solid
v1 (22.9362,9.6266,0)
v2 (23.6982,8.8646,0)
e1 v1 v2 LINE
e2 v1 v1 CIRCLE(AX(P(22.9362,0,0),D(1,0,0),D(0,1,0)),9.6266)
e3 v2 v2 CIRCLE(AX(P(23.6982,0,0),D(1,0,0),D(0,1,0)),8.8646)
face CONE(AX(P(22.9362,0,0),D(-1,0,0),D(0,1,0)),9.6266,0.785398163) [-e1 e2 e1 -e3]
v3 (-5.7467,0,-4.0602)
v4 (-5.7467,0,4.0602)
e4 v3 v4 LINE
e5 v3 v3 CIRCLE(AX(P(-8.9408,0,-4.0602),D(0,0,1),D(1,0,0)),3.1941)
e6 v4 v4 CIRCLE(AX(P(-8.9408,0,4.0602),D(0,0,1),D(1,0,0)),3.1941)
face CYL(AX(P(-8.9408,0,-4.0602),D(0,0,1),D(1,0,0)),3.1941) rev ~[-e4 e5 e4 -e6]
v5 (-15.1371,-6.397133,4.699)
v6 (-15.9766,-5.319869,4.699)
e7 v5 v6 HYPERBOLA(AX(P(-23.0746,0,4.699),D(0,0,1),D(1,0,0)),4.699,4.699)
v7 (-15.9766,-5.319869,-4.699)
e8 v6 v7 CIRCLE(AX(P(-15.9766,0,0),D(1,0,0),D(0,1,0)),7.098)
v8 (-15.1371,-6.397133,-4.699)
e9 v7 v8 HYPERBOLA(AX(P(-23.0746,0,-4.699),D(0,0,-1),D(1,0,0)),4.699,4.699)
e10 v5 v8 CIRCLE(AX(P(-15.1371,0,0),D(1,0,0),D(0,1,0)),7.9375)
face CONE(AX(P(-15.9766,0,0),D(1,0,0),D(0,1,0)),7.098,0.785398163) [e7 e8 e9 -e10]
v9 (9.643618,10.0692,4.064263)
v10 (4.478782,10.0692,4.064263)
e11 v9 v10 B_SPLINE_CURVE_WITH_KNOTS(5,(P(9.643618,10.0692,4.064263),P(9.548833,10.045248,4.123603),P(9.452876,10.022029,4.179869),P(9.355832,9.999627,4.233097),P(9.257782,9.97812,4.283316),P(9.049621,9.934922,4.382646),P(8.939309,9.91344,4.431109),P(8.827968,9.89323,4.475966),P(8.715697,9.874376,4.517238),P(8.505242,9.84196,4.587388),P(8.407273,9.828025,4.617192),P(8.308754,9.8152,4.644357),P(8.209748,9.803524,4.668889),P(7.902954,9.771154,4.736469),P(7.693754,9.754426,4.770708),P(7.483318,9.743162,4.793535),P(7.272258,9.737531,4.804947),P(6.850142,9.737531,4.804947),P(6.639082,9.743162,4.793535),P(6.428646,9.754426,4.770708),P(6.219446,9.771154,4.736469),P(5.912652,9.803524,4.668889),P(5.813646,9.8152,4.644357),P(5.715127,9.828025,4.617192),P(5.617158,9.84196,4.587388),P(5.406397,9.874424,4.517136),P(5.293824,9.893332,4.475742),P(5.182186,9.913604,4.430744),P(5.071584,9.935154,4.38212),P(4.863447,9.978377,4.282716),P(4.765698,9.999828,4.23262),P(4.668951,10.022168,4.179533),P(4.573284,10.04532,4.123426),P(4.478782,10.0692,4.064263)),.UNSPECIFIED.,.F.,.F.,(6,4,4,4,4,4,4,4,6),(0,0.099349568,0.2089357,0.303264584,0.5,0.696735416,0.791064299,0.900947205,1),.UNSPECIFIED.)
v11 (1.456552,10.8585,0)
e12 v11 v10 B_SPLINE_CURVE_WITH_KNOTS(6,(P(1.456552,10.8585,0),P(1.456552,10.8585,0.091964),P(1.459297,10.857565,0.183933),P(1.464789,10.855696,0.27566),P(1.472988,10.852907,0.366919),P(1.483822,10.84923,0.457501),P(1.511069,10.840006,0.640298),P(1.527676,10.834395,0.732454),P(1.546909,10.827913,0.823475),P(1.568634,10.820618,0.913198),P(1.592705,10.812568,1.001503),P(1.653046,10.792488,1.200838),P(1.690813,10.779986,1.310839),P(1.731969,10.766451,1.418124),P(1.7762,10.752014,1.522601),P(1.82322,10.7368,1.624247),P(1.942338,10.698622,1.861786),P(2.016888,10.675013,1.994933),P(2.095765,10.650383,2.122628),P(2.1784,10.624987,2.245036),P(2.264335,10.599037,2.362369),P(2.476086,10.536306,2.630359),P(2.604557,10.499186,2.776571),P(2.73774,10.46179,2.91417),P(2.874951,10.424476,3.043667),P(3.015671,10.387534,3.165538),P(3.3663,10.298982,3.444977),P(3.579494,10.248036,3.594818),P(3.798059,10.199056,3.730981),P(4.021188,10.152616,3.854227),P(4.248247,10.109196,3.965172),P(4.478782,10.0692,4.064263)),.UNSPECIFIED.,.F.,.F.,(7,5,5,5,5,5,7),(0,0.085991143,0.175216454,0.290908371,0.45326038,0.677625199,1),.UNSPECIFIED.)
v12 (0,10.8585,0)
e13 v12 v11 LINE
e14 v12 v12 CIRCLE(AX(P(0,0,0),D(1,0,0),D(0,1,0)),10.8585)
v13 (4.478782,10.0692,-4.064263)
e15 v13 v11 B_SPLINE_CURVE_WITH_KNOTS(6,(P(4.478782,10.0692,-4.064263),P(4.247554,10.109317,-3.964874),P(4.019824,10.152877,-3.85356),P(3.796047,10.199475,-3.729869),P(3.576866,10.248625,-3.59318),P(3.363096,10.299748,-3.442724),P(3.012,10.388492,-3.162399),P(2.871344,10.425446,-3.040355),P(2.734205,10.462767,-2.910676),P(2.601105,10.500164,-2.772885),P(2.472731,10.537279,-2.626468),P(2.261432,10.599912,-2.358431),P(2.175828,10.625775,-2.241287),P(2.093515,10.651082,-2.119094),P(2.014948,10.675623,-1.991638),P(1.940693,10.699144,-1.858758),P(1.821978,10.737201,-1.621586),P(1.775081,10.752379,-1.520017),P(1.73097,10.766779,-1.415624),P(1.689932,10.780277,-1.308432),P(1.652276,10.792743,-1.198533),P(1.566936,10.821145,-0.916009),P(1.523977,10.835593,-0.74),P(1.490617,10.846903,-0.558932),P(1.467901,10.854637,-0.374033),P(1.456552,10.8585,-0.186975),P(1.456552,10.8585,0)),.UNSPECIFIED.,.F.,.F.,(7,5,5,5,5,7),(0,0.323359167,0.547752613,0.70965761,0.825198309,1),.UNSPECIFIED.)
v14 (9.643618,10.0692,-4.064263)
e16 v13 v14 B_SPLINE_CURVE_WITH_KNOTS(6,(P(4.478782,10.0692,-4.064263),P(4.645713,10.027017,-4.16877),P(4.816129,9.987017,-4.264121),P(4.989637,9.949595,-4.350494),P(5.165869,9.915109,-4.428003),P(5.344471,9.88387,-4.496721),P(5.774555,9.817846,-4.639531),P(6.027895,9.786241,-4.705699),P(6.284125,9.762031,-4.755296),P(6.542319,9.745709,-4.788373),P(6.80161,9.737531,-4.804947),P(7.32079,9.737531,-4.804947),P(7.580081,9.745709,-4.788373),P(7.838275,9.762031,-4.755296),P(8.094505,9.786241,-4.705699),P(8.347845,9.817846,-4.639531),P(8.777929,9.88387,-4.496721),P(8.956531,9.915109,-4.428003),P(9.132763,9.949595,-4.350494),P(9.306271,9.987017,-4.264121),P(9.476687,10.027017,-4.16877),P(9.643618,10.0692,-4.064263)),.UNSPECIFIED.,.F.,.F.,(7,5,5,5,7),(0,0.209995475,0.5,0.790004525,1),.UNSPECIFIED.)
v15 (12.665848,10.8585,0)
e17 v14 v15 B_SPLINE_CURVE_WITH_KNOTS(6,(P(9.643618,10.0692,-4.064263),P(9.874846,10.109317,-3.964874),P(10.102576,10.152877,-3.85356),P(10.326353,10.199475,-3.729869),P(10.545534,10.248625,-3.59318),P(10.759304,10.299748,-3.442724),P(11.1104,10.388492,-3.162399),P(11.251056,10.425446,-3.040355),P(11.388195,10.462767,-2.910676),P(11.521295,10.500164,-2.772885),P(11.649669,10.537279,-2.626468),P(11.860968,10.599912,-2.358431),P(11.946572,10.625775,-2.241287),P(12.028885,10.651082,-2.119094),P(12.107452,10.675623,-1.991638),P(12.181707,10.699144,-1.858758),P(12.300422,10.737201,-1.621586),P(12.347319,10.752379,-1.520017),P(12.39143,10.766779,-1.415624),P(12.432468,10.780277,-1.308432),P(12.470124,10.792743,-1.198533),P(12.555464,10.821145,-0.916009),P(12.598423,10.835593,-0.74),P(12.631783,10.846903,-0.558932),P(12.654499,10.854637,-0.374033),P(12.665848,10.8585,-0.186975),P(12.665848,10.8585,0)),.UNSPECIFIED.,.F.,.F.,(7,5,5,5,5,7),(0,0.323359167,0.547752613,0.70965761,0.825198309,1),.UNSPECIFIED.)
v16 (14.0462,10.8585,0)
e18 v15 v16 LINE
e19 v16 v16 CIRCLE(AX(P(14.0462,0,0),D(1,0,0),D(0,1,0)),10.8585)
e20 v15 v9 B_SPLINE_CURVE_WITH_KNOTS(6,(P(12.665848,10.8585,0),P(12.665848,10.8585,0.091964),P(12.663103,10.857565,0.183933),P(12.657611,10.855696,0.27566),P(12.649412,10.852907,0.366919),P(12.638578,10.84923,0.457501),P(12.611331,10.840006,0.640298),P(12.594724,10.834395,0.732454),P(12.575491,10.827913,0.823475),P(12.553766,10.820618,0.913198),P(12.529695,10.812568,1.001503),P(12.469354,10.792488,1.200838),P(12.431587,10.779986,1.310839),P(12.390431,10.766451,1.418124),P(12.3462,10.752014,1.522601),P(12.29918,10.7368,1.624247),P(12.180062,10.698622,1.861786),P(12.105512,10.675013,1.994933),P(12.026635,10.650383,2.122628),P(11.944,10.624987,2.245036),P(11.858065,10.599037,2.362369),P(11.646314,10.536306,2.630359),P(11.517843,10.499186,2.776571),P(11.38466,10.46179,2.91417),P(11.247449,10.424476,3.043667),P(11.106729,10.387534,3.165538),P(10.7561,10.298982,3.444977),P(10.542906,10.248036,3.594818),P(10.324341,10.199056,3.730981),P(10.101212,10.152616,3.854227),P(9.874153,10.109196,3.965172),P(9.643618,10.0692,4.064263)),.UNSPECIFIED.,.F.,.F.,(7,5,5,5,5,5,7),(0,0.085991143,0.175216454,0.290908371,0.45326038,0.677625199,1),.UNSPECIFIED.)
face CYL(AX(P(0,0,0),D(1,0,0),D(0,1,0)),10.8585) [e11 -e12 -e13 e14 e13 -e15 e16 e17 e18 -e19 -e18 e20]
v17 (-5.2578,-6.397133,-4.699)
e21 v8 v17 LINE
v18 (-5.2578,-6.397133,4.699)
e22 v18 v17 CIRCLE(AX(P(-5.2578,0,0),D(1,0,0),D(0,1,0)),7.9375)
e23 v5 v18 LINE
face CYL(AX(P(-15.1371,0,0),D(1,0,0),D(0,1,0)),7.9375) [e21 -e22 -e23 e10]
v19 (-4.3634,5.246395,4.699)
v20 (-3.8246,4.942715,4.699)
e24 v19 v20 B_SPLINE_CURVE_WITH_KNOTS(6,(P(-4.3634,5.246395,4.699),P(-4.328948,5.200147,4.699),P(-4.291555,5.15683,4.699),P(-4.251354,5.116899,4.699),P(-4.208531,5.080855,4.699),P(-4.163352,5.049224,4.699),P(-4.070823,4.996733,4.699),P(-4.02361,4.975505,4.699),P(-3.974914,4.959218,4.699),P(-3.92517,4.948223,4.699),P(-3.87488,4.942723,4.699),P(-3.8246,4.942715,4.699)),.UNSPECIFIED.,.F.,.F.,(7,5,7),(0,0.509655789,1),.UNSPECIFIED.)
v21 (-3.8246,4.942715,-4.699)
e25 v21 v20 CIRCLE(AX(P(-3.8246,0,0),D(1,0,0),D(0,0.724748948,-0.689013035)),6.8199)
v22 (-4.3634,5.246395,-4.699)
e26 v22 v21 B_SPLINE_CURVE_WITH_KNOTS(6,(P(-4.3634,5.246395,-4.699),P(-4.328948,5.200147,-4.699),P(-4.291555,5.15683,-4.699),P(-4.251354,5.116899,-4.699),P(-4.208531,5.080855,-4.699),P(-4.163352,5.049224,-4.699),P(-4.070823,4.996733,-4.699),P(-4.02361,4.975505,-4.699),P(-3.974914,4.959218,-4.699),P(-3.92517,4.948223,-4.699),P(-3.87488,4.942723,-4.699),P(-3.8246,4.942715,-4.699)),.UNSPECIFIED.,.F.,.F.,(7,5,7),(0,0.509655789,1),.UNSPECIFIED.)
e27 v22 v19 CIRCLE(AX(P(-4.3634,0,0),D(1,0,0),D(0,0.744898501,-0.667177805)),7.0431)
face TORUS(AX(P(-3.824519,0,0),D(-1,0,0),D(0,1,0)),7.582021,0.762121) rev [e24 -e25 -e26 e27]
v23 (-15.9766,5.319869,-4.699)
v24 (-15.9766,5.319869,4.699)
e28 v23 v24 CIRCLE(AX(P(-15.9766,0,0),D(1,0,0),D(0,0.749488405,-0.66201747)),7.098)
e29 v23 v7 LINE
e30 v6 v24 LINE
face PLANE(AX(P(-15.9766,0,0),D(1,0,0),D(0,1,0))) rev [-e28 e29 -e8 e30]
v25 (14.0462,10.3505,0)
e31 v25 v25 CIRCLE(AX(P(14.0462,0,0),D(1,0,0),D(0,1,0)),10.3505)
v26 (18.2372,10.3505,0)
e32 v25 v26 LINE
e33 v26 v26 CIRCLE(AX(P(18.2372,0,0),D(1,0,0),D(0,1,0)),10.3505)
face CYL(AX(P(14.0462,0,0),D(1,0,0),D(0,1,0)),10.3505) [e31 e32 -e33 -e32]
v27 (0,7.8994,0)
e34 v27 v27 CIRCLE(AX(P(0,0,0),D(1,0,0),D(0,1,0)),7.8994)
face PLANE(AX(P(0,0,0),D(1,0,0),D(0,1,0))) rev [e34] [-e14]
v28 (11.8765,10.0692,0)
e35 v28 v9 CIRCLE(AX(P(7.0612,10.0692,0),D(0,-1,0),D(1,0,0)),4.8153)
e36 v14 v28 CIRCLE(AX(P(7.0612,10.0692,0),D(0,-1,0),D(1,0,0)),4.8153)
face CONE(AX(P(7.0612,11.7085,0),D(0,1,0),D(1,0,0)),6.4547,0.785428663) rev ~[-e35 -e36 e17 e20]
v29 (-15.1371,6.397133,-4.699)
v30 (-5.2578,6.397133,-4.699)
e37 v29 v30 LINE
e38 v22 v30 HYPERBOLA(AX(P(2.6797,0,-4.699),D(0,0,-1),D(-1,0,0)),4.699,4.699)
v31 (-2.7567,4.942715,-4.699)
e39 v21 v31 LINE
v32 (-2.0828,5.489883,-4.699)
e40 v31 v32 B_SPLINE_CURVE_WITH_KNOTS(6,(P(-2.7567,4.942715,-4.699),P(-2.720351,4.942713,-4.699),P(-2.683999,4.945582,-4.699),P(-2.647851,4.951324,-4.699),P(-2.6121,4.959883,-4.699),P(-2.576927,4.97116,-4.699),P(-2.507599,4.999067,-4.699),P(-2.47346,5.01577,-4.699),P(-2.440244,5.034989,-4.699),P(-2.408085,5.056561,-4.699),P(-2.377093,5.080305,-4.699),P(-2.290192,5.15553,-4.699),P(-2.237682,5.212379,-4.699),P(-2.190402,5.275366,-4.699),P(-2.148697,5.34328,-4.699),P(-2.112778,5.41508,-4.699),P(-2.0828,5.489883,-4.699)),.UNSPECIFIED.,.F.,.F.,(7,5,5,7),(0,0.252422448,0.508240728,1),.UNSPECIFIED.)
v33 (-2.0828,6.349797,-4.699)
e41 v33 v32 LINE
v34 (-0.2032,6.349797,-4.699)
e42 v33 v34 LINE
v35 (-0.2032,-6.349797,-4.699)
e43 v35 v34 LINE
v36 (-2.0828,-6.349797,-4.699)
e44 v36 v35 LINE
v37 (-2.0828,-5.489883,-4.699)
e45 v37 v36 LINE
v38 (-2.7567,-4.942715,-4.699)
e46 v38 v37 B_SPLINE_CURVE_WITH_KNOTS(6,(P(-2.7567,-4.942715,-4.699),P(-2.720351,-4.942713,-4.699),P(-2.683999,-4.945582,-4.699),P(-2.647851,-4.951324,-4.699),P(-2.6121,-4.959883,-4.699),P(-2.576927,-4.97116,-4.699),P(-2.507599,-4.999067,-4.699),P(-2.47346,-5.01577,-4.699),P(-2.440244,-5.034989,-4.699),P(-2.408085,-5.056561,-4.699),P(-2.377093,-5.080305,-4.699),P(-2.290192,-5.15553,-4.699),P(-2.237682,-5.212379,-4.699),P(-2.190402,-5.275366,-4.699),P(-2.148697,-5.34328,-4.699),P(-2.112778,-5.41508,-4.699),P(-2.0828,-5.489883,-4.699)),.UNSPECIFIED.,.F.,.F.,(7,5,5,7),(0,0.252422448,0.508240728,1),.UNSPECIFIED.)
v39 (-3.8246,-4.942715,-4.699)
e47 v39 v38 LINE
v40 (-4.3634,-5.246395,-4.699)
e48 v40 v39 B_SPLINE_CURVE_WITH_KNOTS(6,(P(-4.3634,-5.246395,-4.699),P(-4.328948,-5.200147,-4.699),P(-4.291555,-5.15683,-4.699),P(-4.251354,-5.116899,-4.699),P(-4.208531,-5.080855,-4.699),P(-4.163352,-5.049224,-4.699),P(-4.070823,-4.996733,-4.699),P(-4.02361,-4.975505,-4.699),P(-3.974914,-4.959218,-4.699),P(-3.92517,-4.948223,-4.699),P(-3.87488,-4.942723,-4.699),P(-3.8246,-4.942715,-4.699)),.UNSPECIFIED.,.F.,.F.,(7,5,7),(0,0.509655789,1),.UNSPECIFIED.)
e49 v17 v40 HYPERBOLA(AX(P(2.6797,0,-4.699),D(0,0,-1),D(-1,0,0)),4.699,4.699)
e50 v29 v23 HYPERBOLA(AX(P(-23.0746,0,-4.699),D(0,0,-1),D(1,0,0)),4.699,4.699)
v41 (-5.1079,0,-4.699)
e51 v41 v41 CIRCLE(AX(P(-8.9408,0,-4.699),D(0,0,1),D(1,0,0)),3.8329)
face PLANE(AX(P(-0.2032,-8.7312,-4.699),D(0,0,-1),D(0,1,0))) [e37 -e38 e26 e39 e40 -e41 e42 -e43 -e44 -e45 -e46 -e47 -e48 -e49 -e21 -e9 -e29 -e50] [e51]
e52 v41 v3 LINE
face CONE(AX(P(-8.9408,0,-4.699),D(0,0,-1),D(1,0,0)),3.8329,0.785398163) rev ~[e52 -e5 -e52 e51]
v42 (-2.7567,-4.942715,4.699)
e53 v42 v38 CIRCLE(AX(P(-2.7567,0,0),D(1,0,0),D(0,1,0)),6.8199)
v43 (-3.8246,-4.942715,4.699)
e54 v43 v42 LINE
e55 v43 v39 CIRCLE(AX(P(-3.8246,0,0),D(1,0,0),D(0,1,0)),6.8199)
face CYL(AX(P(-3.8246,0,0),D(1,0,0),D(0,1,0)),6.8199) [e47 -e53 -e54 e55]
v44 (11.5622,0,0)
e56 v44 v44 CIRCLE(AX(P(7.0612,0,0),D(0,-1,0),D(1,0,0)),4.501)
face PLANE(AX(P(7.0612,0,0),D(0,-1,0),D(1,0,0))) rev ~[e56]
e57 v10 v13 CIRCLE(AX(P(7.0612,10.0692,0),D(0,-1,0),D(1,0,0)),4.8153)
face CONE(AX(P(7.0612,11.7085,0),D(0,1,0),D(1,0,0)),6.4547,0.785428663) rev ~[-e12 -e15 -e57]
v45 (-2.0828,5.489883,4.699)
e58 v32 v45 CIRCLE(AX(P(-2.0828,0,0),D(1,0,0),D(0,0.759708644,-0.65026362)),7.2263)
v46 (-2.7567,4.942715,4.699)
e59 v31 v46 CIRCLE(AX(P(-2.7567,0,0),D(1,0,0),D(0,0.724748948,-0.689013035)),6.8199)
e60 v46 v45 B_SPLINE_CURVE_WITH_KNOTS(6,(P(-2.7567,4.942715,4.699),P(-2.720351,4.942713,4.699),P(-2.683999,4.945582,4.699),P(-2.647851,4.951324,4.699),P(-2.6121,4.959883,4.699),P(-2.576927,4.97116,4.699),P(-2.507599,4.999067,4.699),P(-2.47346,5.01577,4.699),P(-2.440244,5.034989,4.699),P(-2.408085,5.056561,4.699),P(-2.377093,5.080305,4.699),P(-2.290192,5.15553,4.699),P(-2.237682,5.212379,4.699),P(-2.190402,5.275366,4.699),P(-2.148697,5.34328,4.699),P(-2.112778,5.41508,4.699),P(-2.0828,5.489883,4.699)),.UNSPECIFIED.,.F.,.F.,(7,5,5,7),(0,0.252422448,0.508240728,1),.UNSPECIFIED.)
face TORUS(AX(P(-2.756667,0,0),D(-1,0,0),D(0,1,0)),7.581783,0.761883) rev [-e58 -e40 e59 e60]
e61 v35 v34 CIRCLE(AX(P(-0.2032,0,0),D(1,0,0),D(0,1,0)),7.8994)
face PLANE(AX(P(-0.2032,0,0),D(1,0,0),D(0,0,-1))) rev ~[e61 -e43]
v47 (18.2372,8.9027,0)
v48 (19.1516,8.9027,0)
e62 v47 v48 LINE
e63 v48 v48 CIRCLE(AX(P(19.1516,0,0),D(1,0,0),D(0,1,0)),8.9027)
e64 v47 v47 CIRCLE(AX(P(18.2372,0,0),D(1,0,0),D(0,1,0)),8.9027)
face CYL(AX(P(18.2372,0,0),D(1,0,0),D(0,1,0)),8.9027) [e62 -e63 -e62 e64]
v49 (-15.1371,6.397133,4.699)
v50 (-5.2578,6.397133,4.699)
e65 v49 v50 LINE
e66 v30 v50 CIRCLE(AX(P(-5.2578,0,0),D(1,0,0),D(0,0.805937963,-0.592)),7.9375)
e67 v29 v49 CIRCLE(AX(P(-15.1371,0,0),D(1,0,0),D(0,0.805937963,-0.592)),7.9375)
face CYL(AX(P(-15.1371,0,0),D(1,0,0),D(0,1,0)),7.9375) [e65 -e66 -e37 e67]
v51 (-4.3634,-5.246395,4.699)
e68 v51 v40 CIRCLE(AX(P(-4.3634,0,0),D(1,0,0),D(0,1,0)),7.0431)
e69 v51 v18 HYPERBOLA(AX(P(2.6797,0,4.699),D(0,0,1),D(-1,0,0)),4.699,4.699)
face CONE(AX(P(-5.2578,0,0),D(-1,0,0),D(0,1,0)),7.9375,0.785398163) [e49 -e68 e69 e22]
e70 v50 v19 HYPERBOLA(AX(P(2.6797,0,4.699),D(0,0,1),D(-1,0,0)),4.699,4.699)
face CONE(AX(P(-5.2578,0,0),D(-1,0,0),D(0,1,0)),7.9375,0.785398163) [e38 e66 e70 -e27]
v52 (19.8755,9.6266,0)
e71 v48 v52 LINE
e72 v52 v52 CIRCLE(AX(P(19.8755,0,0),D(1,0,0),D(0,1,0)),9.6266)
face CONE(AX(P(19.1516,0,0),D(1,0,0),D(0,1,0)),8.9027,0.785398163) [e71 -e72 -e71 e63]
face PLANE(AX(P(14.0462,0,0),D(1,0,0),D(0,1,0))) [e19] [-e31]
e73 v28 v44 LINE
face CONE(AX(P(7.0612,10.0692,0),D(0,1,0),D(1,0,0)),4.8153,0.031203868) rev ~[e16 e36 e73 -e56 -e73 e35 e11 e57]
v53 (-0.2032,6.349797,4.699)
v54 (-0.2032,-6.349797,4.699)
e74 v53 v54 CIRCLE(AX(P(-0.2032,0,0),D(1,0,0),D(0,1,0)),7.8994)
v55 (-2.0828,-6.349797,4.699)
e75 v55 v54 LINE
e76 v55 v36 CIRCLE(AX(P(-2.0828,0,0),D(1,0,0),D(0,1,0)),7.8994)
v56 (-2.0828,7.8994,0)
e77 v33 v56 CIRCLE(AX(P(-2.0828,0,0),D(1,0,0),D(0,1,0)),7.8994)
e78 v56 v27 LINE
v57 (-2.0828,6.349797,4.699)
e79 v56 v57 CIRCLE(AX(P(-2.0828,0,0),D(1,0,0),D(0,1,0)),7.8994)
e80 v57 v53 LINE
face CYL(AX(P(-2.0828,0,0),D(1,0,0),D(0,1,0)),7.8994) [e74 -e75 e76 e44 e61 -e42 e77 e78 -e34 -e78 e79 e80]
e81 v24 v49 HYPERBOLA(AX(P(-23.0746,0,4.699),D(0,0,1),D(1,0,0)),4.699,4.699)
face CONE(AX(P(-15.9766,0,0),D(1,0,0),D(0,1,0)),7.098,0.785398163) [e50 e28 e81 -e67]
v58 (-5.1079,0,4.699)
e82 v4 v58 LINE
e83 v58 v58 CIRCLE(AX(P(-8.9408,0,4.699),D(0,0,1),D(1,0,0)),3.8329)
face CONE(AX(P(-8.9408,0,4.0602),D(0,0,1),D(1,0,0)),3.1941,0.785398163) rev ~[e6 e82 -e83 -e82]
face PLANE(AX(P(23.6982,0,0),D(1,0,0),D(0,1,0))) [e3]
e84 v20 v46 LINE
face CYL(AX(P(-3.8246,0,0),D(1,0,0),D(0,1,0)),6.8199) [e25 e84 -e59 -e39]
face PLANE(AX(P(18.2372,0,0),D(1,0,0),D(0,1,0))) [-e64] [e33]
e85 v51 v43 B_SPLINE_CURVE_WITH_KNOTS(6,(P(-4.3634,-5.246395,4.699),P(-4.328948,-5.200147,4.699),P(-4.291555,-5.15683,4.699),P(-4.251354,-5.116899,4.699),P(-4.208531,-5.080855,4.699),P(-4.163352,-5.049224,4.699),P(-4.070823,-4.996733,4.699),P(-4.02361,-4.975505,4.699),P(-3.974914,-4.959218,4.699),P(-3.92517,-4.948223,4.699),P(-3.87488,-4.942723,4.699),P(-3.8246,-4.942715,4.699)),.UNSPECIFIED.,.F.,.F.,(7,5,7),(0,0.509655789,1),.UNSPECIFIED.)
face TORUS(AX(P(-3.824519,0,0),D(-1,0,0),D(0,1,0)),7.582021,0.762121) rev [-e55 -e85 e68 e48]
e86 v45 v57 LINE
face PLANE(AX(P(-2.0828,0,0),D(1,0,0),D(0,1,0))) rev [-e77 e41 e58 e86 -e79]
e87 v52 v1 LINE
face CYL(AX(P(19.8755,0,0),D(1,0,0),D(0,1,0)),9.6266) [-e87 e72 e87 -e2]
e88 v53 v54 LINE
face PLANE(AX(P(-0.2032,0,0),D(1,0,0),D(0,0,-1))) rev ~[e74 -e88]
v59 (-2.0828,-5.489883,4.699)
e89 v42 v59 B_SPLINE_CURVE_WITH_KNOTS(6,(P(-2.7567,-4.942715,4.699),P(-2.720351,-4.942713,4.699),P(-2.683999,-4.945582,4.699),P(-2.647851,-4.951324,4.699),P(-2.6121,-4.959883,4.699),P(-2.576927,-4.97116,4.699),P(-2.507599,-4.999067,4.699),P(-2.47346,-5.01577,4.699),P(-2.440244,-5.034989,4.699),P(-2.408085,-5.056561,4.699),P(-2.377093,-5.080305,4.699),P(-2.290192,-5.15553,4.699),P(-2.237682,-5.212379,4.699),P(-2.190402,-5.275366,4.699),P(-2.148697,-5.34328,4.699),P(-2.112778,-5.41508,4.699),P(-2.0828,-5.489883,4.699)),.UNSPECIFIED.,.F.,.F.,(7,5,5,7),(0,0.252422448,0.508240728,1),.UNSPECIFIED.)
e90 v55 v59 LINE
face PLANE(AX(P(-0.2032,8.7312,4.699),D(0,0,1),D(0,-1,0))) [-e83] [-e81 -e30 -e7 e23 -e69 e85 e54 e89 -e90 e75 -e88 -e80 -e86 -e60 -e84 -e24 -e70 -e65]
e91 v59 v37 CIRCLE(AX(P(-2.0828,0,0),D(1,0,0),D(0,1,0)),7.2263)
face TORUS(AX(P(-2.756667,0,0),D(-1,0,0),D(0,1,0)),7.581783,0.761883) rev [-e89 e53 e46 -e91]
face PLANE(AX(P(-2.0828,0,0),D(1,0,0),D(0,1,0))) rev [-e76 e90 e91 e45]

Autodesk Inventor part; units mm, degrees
sketch "Sketch_1" plane through (0, 0, 0) normal (0, 0, 1) x (1, 0, 0)
  line L0 (14.0462, 0) -> (0, 0)
  line L1 (0, 0) -> (0, 10.8585)
  line L2 (0, 10.8585) -> (14.0462, 10.8585)
  line L3 (14.0462, 10.8585) -> (14.0462, 0)
  line L4 (14.0462, 0) -> (0, 0)
revolve "Revolution1" add sketch "Sketch_1" angle 360 about axis through (14.0462, 0, 0) along (1, 0, 0)
sketch "Sketch_2" plane through (0, 0, 0) normal (0, 0, 1) x (1, 0, 0)
  line L0 (0, 0) -> (-15.9766, 0)
  line L1 (-15.9766, 0) -> (-15.9766, 7.098)
  line L2 (-15.9766, 7.098) -> (-15.1371, 7.9375)
  line L3 (-15.1371, 7.9375) -> (0, 7.9375)
  line L4 (0, 7.9375) -> (0, 0)
  line L5 (0, 0) -> (-15.9766, 0)
revolve "Revolution2" add sketch "Sketch_2" angle 360 about axis through (0, 0, 0) along (1, 0, 0)
thread "Thread1" size "5/8-18 UNF" class "2A" standard "ANSI Unified Screw Threads" length 9.8793
sketch "Sketch_6" plane through (0, 0, 0) normal (0, 0, 1) x (1, 0, 0)
  line L0 (23.6982, 0) -> (14.0462, 0)
  line L1 (14.0462, 0) -> (14.0462, 10.3505)
  line L2 (14.0462, 10.3505) -> (18.2372, 10.3505)
  line L3 (18.2372, 10.3505) -> (18.2372, 8.9027)
  line L4 (18.2372, 8.9027) -> (19.1516, 8.9027)
  line L5 (19.1516, 8.9027) -> (19.8755, 9.6266)
  line L6 (19.8755, 9.6266) -> (22.9362, 9.6266)
  line L7 (22.9362, 9.6266) -> (23.6982, 8.8646)
  line L8 (23.6982, 8.8646) -> (23.6982, 0)
  line L9 (23.6982, 0) -> (14.0462, 0)
revolve "Revolution3" add sketch "Sketch_6" angle 360 about axis through (23.6982, 0, 0) along (1, 0, 0)
sketch "Sketch_8" plane through (7.0612, 0, 0) normal (0, 0, 1) x (0, -1, 0)
  line L0 (0, 0) -> (-11.7085, 0)
  line L1 (-11.7085, 0) -> (-11.7085, 6.4547)
  line L2 (-11.7085, 6.4547) -> (-10.0692, 4.8153)
  line L3 (-10.0692, 4.8153) -> (0, 4.501)
  line L4 (0, 4.501) -> (0, 0)
  line L5 (0, 0) -> (-11.7085, 0)
revolve "Revolution4" cut sketch "Sketch_8" angle 360 about axis through (7.0612, 0, 0) along (0, -1, 0)
sketch "Sketch_29" plane through (0, 0, 0) normal (0, 0, 1) x (1, 0, 0)
  line L0 (0, 0) -> (-5.2578, 0)
  line L1 (-5.2578, 9.8994) -> (-5.2578, 7.9375)
  line L2 (-5.2578, 7.9375) -> (-4.3634, 7.0431)
  arc A0 (-4.3634, 7.0431) -> (-3.8246, 6.8199) centre (-3.8246, 7.5819) ccw
  line L3 (-3.8246, 6.8199) -> (-2.7567, 6.8199)
  arc A1 (-2.7567, 6.8199) -> (-2.0828, 7.2263) centre (-2.7567, 7.5819) ccw
  line L4 (-2.0828, 7.2263) -> (-2.0828, 7.8994)
  line L5 (-2.0828, 7.8994) -> (0, 7.8994)
  line L6 (0, 7.8994) -> (0, 9.8994)
  line L7 (0, 9.8994) -> (-5.2578, 9.8994)
revolve "Revolution5" cut sketch "Sketch_29" angle 360 about axis through (0, 0, 0) along (1, 0, 0)
sketch "Sketch_38" plane through (-0.2032, 0, 0) normal (1, 0, 0) x (0, 0, -1)
  line L0 (-10.8585, -10.8585) -> (10.8585, -10.8585)
  line L1 (10.8585, -10.8585) -> (10.8585, 10.8585)
  line L2 (10.8585, 10.8585) -> (-10.8585, 10.8585)
  line L3 (-10.8585, 10.8585) -> (-10.8585, -10.8585)
  line L4 (-4.699, -8.7312) -> (4.699, -8.7312)
  line L5 (4.699, -8.7312) -> (4.699, 8.7312)
  line L6 (4.699, 8.7312) -> (-4.699, 8.7312)
  line L7 (-4.699, 8.7312) -> (-4.699, -8.7312)
extrude "Extrusion1" cut sketch "Sketch_38" against normal blind 15.9766
sketch "Sketch_36" plane through (0, 0, 0) normal (0, 1, 0) x (-1, 0, 0)
  line L0 (8.9408, 4.699) -> (8.9408, -4.699)
  line L1 (8.9408, -4.699) -> (5.1079, -4.699)
  line L2 (5.1079, -4.699) -> (5.7467, -4.0602)
  line L3 (5.7467, -4.0602) -> (5.7467, 4.0602)
  line L4 (5.7467, 4.0602) -> (5.1079, 4.699)
  line L5 (5.1079, 4.699) -> (8.9408, 4.699)
  line L6 (8.9408, 4.699) -> (8.9408, -4.699)
revolve "Revolution6" cut sketch "Sketch_36" angle 360 about axis through (-8.9408, 0, 4.699) along (0, 0, 1)
ref_plane "b1_XY" through (0, 7.8994, 0) normal (1, 0, 0) x (0, 0, -1)
ref_plane "b1_YZ" through (0, 7.8994, 0) normal (0, 0, -1) x (0, 1, 0)
ref_plane "b1_ZX" through (0, 7.8994, 0) normal (0, 1, 0) x (1, 0, 0)
ref_plane "b2_XY" through (0, -7.8994, 0) normal (1, 0, 0) x (0, 0, -1)
ref_plane "b2_YZ" through (0, -7.8994, 0) normal (0, 0, -1) x (0, 1, 0)
ref_plane "b2_ZX" through (0, -7.8994, 0) normal (0, 1, 0) x (1, 0, 0)
ref_plane "cl1_XY" through (0, 0, 0) normal (0, 0, 1) x (1, 0, 0)
ref_plane "cl1_YZ" through (0, 0, 0) normal (1, 0, 0) x (0, 1, 0)
ref_plane "cl1_ZX" through (0, 0, 0) normal (0, 1, 0) x (0, 0, 1)
ref_plane "cl2_XY" through (-2.0828, 0, 0) normal (0, 0, 1) x (1, 0, 0)
ref_plane "cl2_YZ" through (-2.0828, 0, 0) normal (1, 0, 0) x (0, 1, 0)
ref_plane "cl2_ZX" through (-2.0828, 0, 0) normal (0, 1, 0) x (0, 0, 1)
ref_plane "ecut1_XY" through (-0.2032, 0, 4.699) normal (1, 0, 0) x (0, 0, -1)
ref_plane "ecut1_YZ" through (-0.2032, 0, 4.699) normal (0, 0, -1) x (0, 1, 0)
ref_plane "ecut1_ZX" through (-0.2032, 0, 4.699) normal (0, 1, 0) x (1, 0, 0)
ref_plane "ecut2_XY" through (-0.2032, 0, -4.699) normal (1, 0, 0) x (0, 0, -1)
ref_plane "ecut2_YZ" through (-0.2032, 0, -4.699) normal (0, 0, -1) x (0, 1, 0)
ref_plane "ecut2_ZX" through (-0.2032, 0, -4.699) normal (0, 1, 0) x (1, 0, 0)
ref_plane "ee_XY" through (7.0612, 10.8585, 0) normal (1, 0, 0) x (0, -1, 0)
ref_plane "ee_YZ" through (7.0612, 10.8585, 0) normal (0, -1, 0) x (0, 0, -1)
ref_plane "ee_ZX" through (7.0612, 10.8585, 0) normal (0, 0, -1) x (1, 0, 0)
ref_plane "od1_XY" through (0, 0, 10.8585) normal (1, 0, 0) x (0, 0, -1)
ref_plane "od1_YZ" through (0, 0, 10.8585) normal (0, 0, -1) x (0, 1, 0)
ref_plane "od1_ZX" through (0, 0, 10.8585) normal (0, 1, 0) x (1, 0, 0)
ref_plane "od2_XY" through (0, 0, -10.8585) normal (1, 0, 0) x (0, 0, -1)
ref_plane "od2_YZ" through (0, 0, -10.8585) normal (0, 0, -1) x (0, 1, 0)
ref_plane "od2_ZX" through (0, 0, -10.8585) normal (0, 1, 0) x (1, 0, 0)
ref_plane "od3_XY" through (0, 10.8585, 0) normal (1, 0, 0) x (0, 0, -1)
ref_plane "od3_YZ" through (0, 10.8585, 0) normal (0, 0, -1) x (0, 1, 0)
ref_plane "od3_ZX" through (0, 10.8585, 0) normal (0, 1, 0) x (1, 0, 0)
ref_plane "od4_XY" through (0, -10.8585, 0) normal (1, 0, 0) x (0, 0, -1)
ref_plane "od4_YZ" through (0, -10.8585, 0) normal (0, 0, -1) x (0, 1, 0)
ref_plane "od4_ZX" through (0, -10.8585, 0) normal (0, 1, 0) x (1, 0, 0)
ref_plane "to_body_XY" through (18.2372, 0, 0) normal (1, 0, 0) x (0, 0, -1)
ref_plane "to_body_YZ" through (18.2372, 0, 0) normal (0, 0, -1) x (0, 1, 0)
ref_plane "to_body_ZX" through (18.2372, 0, 0) normal (0, 1, 0) x (1, 0, 0)
ref_plane "to_dummy_XY" through (0, 0, 0) normal (1, 0, 0) x (0, 0, -1)
ref_plane "to_dummy_YZ" through (0, 0, 0) normal (0, 0, -1) x (0, 1, 0)
ref_plane "to_dummy_ZX" through (0, 0, 0) normal (0, 1, 0) x (1, 0, 0)
ref_plane "to_nut_XY" through (-15.9766, 0, 0) normal (1, 0, 0) x (0, 0, -1)
ref_plane "to_nut_YZ" through (-15.9766, 0, 0) normal (0, 0, -1) x (0, 1, 0)
ref_plane "to_nut_ZX" through (-15.9766, 0, 0) normal (0, 1, 0) x (1, 0, 0)
ref_plane "to_pin_XY" through (-8.9408, 0, 0) normal (0, 0, 1) x (1, 0, 0)
ref_plane "to_pin_YZ" through (-8.9408, 0, 0) normal (1, 0, 0) x (0, 1, 0)
ref_plane "to_pin_ZX" through (-8.9408, 0, 0) normal (0, 1, 0) x (0, 0, 1)
ref_plane "to_stroke_adjuster_XY" through (23.6982, 0, 0) normal (1, 0, 0) x (0, 0, -1)
ref_plane "to_stroke_adjuster_YZ" through (23.6982, 0, 0) normal (0, 0, -1) x (0, 1, 0)
ref_plane "to_stroke_adjuster_ZX" through (23.6982, 0, 0) normal (0, 1, 0) x (1, 0, 0)
ref_plane "z1_XY" through (-8.9408, 3.194, 0) normal (0, 0, 1) x (1, 0, 0)
ref_plane "z1_YZ" through (-8.9408, 3.194, 0) normal (1, 0, 0) x (0, 1, 0)
ref_plane "z1_ZX" through (-8.9408, 3.194, 0) normal (0, 1, 0) x (0, 0, 1)
ref_plane "z2_XY" through (-8.9408, -3.194, 0) normal (0, 0, 1) x (1, 0, 0)
ref_plane "z2_YZ" through (-8.9408, -3.194, 0) normal (1, 0, 0) x (0, 1, 0)
ref_plane "z2_ZX" through (-8.9408, -3.194, 0) normal (0, 1, 0) x (0, 0, 1)
properties part number "0.75DXP-C_SRS10"
